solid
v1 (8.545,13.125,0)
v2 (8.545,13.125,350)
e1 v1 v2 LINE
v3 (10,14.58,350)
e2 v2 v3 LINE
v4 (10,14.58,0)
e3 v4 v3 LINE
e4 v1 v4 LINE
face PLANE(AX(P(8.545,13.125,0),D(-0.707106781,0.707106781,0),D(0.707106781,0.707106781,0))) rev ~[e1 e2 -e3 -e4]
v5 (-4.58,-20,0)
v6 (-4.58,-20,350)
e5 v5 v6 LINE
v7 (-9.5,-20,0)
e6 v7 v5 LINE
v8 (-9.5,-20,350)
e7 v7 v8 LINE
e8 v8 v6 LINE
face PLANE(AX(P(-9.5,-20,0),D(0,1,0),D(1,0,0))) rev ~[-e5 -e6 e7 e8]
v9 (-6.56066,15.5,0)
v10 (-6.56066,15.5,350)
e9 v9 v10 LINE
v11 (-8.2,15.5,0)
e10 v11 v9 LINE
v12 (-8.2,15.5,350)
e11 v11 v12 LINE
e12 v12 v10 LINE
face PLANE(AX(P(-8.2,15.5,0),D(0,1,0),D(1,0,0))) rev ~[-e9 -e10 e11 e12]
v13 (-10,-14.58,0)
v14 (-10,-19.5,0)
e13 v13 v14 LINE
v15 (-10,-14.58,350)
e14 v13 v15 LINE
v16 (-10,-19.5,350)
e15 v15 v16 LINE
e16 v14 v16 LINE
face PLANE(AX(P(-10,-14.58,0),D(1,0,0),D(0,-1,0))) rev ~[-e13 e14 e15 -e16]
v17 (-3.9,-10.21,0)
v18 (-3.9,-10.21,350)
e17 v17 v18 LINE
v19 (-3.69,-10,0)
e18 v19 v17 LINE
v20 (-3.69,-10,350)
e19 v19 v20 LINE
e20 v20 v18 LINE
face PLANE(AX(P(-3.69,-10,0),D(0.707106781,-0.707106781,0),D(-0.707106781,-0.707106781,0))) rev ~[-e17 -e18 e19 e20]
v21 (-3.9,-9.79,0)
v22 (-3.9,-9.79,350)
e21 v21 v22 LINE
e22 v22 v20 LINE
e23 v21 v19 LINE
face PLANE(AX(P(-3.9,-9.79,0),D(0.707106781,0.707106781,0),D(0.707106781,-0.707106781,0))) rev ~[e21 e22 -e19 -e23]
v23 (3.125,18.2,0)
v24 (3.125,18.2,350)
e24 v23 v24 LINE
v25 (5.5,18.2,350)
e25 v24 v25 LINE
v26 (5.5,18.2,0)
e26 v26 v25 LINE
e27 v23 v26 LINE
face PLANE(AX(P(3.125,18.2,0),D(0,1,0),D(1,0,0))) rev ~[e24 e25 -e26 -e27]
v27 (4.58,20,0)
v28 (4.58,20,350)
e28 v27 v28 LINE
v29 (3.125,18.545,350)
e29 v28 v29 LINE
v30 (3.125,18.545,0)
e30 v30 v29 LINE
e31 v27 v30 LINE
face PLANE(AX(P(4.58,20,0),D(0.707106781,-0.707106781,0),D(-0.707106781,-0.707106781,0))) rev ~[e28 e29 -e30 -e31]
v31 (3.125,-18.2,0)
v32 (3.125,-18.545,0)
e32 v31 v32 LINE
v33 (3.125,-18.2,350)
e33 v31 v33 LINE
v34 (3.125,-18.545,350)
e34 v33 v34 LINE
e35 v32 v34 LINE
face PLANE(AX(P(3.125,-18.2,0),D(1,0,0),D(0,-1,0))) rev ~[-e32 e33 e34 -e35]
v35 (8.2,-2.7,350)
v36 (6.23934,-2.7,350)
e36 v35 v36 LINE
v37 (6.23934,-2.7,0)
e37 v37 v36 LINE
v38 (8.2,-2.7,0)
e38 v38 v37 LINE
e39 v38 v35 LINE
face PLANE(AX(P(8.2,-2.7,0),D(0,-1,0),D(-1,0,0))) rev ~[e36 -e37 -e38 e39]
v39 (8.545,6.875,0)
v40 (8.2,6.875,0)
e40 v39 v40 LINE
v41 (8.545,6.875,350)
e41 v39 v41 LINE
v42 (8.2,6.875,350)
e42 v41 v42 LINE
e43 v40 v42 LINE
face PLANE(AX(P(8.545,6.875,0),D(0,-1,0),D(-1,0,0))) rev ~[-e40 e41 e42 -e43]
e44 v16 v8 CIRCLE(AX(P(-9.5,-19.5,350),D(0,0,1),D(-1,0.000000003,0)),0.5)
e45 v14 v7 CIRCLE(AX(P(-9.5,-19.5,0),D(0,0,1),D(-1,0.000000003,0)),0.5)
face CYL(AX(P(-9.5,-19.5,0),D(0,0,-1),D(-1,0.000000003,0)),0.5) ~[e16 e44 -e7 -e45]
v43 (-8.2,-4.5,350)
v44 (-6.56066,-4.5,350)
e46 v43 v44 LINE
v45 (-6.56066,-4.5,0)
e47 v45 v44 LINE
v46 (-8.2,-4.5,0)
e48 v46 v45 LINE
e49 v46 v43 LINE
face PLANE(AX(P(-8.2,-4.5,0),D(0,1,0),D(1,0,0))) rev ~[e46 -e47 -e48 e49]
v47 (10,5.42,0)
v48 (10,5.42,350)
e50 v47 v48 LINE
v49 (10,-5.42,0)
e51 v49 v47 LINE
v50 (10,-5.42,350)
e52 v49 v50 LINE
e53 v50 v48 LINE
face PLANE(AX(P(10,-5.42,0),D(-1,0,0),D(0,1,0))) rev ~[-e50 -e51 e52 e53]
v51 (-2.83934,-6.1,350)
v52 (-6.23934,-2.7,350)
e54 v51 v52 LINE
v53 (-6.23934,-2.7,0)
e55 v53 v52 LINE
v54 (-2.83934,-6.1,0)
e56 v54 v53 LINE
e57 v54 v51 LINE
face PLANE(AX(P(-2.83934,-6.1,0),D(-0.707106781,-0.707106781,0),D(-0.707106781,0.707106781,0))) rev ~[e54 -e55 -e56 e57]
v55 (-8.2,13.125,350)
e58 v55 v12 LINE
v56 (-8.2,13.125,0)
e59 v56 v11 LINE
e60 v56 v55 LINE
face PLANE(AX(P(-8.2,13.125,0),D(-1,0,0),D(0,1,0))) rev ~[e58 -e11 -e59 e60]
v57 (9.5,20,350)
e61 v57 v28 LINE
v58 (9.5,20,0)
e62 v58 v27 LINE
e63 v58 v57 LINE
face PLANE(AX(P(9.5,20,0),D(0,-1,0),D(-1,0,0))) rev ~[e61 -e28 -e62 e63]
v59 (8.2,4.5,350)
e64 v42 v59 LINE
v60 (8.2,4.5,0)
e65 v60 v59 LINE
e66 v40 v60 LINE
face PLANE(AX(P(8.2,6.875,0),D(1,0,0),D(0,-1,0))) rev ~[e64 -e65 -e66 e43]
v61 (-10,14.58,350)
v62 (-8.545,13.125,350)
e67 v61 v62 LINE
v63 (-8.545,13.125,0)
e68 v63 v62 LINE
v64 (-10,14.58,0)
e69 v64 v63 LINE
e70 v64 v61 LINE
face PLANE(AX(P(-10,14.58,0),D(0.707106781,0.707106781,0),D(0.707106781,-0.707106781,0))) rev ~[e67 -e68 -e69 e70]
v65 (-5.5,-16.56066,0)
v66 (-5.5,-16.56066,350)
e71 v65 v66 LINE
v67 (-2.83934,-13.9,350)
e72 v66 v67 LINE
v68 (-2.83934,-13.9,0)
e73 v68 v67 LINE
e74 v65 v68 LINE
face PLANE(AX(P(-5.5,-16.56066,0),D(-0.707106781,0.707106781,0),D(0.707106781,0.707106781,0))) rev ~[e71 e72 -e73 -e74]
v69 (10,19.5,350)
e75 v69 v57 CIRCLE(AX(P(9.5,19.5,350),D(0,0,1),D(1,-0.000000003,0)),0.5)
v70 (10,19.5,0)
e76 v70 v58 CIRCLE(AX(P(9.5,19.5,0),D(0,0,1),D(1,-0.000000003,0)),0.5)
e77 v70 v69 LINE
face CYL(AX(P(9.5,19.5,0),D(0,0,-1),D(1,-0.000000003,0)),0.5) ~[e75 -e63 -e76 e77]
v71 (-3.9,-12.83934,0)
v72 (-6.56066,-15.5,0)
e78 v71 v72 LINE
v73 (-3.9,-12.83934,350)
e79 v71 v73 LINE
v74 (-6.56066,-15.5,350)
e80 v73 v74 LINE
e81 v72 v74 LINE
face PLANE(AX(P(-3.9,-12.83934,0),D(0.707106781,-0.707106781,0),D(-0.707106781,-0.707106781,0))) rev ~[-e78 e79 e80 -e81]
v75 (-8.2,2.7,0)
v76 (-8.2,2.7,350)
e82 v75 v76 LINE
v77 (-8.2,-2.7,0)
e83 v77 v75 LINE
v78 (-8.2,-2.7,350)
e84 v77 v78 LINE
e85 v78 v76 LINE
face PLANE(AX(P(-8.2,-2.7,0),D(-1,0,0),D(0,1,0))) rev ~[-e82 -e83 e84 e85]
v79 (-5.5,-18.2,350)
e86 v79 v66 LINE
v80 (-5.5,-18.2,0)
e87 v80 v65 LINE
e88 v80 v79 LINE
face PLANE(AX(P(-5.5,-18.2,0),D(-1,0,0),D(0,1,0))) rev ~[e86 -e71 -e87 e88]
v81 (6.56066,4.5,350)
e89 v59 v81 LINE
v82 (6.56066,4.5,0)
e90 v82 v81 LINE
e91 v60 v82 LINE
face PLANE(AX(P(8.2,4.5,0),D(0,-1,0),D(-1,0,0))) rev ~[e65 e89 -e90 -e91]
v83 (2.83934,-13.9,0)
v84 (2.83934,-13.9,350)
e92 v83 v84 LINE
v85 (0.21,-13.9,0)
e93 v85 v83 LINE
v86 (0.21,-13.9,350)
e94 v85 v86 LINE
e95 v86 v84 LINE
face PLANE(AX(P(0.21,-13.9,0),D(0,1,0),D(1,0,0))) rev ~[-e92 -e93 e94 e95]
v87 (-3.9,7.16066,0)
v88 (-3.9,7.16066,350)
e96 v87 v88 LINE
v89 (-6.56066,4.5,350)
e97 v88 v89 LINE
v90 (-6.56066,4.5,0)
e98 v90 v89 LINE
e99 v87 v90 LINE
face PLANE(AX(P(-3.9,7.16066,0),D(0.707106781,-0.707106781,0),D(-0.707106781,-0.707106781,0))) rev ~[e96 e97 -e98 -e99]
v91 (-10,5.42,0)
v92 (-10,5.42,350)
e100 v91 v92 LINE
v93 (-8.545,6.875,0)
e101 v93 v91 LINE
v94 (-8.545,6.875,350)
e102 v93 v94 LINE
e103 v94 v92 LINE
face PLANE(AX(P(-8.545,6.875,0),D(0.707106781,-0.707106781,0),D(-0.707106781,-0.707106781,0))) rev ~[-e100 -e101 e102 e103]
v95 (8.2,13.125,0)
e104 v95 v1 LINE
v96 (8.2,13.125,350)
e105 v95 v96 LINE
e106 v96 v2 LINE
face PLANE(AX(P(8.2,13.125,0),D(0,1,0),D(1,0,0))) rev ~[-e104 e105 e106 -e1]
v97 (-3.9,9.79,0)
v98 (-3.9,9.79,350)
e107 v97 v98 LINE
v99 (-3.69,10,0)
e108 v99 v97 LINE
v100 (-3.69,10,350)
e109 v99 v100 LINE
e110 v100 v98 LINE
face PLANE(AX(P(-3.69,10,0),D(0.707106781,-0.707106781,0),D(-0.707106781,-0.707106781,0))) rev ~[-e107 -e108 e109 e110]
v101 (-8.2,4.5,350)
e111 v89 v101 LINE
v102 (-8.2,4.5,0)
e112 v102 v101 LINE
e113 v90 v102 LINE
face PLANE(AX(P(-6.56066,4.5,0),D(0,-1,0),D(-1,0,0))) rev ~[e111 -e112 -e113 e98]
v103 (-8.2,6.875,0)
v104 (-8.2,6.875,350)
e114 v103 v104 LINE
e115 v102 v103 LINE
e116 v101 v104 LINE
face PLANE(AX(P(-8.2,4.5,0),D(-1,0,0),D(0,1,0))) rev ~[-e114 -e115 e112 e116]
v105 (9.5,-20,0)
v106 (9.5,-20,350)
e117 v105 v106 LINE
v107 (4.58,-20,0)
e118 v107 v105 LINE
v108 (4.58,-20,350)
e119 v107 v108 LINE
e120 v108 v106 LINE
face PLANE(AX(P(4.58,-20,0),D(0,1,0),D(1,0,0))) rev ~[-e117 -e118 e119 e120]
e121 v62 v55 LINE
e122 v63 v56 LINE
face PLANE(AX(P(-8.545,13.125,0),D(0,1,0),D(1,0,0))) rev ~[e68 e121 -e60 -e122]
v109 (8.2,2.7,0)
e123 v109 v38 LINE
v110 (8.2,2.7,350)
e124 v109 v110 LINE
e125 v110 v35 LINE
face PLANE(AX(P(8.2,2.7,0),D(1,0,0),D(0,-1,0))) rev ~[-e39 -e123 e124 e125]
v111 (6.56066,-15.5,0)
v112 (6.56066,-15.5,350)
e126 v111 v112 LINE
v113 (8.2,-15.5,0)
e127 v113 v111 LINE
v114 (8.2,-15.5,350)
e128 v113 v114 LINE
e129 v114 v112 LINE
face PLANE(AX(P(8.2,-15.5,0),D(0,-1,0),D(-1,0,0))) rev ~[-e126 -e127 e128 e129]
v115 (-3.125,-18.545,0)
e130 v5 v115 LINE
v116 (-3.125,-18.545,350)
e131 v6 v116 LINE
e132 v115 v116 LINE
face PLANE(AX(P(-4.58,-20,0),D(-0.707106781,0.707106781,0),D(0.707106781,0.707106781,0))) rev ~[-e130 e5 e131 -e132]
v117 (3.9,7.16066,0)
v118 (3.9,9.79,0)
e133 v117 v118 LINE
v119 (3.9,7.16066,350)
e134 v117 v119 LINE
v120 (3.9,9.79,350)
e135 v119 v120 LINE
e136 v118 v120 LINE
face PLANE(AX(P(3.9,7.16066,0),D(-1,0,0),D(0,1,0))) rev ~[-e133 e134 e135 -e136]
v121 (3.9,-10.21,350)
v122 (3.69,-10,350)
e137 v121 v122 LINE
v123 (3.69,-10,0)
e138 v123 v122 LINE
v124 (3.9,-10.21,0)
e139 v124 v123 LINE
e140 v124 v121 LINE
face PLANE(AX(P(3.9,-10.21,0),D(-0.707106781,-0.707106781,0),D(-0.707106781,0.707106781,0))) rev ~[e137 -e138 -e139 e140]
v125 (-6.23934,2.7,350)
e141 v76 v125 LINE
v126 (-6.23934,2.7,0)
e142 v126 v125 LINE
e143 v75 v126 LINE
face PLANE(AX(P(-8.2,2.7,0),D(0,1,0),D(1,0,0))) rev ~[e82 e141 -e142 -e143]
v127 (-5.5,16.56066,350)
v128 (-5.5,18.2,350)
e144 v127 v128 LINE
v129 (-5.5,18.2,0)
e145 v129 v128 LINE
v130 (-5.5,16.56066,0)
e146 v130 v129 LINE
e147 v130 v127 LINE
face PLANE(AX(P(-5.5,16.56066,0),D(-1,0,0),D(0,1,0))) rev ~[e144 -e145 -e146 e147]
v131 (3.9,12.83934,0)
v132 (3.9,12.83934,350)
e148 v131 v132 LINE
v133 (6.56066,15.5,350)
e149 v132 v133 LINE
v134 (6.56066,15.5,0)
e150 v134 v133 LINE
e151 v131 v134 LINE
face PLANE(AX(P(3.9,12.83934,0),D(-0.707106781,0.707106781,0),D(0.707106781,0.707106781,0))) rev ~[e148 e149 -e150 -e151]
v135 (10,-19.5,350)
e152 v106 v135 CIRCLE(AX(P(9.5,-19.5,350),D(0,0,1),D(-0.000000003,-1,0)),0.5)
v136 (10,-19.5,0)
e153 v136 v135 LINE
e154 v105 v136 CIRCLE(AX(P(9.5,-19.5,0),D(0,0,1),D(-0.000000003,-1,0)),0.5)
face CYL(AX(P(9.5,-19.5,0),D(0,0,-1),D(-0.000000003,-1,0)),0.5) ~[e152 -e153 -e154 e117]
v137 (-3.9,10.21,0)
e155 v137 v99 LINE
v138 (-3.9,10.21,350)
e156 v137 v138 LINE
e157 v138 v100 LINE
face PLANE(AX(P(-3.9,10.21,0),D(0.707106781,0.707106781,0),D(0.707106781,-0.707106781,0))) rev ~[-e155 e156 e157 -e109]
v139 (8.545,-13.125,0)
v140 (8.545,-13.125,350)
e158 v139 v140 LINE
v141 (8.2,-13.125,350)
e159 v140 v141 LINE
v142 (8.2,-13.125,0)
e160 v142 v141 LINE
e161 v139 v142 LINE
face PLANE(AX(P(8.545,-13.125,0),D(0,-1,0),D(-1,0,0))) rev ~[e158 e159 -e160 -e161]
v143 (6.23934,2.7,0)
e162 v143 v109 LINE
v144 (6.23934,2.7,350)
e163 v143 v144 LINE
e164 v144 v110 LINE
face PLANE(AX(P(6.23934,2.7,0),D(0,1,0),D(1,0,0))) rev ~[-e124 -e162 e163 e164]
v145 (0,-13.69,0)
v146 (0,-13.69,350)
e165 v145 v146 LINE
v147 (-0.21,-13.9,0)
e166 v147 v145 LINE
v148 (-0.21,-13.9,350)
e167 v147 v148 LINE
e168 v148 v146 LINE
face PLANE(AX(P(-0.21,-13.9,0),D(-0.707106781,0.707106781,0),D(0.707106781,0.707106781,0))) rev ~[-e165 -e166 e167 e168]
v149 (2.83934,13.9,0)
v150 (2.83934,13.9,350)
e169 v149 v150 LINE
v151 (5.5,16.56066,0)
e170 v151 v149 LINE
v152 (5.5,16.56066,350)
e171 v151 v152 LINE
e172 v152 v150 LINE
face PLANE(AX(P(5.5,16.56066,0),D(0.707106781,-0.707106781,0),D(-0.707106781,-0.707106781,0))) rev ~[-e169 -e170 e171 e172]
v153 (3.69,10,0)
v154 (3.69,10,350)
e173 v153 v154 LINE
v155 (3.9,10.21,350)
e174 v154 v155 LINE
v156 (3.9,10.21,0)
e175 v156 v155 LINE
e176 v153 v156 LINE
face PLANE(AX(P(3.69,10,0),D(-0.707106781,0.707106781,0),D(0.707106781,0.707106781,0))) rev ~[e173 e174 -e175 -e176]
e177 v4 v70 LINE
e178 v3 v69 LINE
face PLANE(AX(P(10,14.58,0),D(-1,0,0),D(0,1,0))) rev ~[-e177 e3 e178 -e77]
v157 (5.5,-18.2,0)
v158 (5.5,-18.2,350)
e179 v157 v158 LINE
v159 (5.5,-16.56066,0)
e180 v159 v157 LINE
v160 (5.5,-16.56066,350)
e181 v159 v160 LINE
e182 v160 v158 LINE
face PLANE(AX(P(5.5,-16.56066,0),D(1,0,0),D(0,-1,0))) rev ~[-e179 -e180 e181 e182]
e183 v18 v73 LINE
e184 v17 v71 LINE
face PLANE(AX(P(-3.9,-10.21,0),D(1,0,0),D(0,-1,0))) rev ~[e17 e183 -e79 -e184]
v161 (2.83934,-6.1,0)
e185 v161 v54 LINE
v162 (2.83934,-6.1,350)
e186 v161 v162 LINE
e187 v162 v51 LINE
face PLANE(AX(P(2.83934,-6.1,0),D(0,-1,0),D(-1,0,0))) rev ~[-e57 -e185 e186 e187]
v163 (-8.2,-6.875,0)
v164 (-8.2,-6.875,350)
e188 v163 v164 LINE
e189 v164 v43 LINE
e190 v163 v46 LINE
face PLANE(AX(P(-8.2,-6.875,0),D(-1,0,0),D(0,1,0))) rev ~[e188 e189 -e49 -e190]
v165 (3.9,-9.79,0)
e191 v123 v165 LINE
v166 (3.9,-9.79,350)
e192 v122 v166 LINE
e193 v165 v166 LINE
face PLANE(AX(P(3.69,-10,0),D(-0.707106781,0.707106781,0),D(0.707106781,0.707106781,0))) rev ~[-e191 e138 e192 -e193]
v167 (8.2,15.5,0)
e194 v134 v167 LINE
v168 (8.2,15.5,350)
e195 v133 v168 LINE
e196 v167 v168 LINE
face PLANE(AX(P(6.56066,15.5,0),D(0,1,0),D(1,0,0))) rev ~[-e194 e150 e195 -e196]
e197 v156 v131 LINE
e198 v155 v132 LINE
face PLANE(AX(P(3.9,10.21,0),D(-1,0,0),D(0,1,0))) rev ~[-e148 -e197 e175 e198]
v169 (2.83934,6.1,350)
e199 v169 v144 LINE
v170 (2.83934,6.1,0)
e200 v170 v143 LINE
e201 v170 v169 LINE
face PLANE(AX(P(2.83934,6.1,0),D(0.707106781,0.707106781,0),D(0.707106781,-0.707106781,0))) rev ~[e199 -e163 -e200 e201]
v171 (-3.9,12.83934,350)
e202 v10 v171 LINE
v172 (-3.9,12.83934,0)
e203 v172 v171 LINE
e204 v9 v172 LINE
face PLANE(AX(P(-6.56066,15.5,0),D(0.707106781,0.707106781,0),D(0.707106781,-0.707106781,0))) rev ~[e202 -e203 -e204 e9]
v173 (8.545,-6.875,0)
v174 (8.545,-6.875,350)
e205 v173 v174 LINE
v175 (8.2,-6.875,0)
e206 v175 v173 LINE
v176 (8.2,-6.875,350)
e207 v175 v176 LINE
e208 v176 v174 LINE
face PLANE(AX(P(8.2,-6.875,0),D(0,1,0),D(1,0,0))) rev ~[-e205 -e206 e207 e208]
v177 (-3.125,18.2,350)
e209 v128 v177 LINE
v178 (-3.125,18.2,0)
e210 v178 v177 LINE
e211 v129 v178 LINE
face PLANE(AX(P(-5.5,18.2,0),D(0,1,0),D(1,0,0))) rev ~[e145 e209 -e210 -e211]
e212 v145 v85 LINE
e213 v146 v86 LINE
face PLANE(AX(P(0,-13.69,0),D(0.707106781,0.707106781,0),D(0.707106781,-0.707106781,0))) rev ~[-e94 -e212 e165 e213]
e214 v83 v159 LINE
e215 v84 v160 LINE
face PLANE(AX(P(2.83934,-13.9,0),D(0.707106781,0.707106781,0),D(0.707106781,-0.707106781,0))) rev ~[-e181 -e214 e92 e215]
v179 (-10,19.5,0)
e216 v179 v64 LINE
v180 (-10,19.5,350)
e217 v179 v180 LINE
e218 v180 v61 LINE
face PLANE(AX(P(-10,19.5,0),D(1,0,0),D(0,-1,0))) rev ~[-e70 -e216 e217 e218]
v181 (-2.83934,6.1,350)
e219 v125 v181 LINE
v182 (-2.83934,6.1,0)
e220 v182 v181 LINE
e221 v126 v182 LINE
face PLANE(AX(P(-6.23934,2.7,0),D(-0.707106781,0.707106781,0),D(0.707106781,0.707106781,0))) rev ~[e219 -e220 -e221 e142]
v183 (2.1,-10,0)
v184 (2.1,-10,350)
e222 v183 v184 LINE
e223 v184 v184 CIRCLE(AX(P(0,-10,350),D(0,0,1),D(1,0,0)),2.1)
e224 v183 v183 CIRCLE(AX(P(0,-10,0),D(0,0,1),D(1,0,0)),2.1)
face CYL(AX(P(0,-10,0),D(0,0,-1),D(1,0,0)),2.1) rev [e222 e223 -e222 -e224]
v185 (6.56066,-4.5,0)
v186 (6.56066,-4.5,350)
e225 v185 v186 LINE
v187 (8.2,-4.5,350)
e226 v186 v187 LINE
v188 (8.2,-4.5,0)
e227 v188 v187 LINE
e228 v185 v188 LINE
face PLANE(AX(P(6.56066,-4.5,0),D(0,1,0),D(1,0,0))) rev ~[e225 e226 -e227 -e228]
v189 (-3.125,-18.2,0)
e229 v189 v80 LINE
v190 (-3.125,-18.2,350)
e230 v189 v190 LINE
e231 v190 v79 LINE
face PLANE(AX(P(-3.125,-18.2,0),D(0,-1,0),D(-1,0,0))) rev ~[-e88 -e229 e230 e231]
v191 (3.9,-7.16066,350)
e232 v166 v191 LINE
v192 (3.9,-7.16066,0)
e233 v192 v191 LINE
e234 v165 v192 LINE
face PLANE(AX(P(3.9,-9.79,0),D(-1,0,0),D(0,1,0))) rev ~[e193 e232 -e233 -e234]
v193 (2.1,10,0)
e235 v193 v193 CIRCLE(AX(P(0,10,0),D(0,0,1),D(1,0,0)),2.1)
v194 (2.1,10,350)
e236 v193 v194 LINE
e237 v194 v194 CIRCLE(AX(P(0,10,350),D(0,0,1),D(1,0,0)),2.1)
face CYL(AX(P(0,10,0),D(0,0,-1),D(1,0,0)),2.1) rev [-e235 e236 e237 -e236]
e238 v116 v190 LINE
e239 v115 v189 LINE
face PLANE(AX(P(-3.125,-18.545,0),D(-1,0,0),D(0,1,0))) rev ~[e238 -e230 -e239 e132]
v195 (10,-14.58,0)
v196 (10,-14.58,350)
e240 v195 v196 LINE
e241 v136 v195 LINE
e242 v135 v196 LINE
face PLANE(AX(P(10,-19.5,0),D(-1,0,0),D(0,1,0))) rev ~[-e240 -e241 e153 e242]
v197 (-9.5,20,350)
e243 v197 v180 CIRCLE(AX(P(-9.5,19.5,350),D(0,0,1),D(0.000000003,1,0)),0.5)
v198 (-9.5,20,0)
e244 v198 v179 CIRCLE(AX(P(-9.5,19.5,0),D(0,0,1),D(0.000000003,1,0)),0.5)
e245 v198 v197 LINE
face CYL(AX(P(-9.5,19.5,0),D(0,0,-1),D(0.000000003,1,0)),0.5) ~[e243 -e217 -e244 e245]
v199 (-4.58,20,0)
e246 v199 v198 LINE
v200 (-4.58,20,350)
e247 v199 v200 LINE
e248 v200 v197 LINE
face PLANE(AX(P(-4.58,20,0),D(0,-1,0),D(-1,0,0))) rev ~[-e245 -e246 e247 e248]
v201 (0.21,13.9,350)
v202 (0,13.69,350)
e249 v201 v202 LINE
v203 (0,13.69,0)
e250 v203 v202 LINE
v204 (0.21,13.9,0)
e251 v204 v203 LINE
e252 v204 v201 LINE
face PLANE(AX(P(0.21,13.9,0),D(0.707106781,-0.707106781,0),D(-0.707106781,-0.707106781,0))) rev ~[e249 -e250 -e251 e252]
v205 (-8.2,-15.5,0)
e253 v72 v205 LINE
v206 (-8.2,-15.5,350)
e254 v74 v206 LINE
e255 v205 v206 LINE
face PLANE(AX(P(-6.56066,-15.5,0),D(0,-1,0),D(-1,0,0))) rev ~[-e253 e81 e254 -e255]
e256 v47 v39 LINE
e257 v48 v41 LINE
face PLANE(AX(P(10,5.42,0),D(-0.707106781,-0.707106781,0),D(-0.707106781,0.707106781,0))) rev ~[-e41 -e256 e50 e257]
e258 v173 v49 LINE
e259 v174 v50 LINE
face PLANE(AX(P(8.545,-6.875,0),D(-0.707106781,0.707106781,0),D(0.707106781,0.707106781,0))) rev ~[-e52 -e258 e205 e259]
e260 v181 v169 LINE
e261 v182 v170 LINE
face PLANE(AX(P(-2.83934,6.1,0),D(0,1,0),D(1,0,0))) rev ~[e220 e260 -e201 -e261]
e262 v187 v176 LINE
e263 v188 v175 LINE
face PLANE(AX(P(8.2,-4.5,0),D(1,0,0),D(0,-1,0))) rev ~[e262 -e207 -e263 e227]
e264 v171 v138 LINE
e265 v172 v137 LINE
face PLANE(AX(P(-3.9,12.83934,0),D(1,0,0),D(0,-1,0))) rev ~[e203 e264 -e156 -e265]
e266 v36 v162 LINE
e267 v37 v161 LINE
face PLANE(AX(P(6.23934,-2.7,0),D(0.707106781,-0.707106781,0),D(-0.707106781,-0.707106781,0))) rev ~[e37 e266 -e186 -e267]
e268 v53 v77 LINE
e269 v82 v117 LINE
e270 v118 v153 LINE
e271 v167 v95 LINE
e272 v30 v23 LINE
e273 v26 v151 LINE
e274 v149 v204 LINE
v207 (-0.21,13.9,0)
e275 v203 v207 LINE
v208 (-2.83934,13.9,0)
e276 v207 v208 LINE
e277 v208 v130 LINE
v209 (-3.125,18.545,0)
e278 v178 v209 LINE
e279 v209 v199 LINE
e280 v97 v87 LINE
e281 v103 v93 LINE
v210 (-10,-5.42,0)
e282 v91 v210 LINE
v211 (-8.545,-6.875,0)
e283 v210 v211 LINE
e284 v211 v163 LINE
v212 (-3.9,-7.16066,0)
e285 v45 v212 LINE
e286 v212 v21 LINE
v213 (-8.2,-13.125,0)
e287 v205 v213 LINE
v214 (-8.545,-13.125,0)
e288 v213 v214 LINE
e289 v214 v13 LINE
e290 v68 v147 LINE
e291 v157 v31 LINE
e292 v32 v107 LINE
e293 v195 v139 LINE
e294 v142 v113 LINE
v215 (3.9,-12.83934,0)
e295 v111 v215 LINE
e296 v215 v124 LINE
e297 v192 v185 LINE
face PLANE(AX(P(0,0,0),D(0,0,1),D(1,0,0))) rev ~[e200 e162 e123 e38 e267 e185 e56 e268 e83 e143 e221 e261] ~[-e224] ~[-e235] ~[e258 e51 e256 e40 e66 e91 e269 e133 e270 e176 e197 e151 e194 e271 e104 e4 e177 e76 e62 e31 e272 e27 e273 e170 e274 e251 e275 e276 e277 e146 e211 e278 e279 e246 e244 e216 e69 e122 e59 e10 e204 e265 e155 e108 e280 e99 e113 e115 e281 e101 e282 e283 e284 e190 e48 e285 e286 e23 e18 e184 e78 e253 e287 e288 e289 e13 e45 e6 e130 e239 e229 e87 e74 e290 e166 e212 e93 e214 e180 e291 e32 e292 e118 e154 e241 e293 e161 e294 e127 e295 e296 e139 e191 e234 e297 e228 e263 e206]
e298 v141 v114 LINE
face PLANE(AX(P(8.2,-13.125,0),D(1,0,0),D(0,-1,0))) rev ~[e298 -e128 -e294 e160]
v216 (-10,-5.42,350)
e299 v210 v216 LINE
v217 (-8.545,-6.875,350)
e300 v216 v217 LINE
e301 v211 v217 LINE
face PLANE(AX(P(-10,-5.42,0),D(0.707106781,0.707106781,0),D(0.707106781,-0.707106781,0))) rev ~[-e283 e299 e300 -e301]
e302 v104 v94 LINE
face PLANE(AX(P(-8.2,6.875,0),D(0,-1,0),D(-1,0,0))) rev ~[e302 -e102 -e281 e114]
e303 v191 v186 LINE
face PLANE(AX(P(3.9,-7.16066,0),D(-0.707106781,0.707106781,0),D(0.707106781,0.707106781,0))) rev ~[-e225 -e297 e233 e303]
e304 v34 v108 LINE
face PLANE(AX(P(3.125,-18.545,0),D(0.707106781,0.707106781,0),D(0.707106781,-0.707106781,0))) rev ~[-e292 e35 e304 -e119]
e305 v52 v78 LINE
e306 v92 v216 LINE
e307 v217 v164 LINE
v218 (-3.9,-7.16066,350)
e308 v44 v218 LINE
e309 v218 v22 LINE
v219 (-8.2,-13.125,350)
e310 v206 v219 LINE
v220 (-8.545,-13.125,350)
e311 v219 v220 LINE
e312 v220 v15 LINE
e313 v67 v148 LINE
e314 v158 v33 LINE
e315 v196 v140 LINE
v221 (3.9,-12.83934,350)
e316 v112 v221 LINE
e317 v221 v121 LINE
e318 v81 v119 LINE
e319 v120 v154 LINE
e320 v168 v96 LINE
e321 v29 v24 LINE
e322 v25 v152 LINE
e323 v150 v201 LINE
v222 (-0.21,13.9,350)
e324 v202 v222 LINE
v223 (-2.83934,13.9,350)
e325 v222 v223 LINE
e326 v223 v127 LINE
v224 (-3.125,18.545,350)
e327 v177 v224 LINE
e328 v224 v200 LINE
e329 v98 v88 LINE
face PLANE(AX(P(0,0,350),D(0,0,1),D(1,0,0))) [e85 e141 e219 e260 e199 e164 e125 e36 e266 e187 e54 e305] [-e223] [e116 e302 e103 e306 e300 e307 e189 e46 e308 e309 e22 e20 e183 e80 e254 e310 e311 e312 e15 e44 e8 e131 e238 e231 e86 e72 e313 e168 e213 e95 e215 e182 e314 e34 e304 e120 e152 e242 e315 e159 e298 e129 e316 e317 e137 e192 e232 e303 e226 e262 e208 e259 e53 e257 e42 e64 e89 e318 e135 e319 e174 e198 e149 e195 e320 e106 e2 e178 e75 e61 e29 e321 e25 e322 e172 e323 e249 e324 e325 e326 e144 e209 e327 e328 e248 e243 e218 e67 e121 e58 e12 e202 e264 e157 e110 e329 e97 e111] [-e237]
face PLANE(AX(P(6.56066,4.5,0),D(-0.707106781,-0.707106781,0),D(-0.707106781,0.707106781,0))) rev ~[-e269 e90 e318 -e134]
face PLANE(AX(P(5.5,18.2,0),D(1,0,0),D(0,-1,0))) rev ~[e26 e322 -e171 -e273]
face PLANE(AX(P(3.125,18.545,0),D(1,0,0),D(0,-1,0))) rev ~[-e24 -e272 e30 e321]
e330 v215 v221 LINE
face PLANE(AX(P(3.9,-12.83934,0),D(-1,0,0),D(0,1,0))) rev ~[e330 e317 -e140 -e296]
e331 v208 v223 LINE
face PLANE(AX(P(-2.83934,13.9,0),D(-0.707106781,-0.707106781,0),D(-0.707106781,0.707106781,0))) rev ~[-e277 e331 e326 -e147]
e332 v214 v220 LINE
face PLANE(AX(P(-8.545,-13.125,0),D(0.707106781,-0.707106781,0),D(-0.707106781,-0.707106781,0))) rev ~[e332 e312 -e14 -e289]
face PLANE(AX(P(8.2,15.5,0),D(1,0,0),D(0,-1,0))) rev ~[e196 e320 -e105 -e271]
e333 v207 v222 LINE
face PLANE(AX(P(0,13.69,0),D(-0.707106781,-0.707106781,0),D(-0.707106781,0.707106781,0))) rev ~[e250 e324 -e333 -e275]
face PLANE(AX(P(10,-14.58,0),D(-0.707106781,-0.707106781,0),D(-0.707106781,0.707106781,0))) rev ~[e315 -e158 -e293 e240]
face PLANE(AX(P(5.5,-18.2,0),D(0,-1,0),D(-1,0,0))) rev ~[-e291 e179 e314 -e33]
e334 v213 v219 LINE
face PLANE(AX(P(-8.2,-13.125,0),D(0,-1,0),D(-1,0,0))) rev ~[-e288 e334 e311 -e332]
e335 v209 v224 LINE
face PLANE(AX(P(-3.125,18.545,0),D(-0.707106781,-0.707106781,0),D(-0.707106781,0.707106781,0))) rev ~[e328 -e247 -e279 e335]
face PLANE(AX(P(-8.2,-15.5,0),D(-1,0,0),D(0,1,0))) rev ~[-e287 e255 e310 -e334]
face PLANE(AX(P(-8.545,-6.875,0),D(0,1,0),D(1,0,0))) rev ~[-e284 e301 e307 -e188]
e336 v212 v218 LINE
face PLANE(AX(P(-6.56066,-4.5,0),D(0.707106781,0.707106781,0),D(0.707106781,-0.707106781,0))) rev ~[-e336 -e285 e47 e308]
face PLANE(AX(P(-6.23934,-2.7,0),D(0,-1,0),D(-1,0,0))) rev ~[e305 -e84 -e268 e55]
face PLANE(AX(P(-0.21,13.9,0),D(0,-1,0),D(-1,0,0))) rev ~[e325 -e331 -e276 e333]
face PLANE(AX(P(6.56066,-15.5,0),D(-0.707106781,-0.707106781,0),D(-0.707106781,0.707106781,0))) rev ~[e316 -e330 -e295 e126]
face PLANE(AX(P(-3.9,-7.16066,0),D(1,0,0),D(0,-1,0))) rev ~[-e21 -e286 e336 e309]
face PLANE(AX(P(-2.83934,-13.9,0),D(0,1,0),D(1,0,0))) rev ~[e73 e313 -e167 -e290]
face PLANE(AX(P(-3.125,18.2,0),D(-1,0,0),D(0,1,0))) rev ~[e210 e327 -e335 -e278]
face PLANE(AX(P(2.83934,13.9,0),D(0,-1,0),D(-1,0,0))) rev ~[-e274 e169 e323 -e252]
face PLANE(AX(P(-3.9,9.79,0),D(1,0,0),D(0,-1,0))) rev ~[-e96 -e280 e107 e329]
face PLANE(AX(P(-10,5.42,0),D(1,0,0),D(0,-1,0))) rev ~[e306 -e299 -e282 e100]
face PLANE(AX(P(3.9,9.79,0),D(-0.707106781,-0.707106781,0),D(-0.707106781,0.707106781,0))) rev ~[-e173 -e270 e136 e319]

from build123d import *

# Parameters (mm, degrees)
SKETCH1_R           = 2.1
BOSS_EXTRUDE1_DEPTH = 350


with BuildPart() as part:
    # Sketch1 → Boss-Extrude1 (new body)
    with BuildSketch(Plane.XY):
        with BuildLine():
            Line((4.58, -20), (9.5, -20))
            ThreePointArc((9.5, -20), (9.853553391, -19.853553391), (10, -19.5))
            Line((10, -19.5), (10, -14.58))
            Line((10, -14.58), (8.545, -13.125))
            Line((8.545, -13.125), (8.2, -13.125))
            Line((8.2, -13.125), (8.2, -15.5))
            Line((8.2, -15.5), (6.560660172, -15.5))
            Line((6.560660172, -15.5), (3.9, -12.839339828))
            Line((3.9, -12.839339828), (3.9, -10.21))
            Line((3.9, -10.21), (3.69, -10))
            Line((3.69, -10), (3.9, -9.79))
            Line((3.9, -9.79), (3.9, -7.160660172))
            Line((3.9, -7.160660172), (6.560660172, -4.5))
            Line((6.560660172, -4.5), (8.2, -4.5))
            Line((8.2, -4.5), (8.2, -6.875))
            Line((8.2, -6.875), (8.545, -6.875))
            Line((8.545, -6.875), (10, -5.42))
            Line((10, -5.42), (10, 5.42))
            Line((10, 5.42), (8.545, 6.875))
            Line((8.545, 6.875), (8.2, 6.875))
            Line((8.2, 6.875), (8.2, 4.5))
            Line((8.2, 4.5), (6.560660172, 4.5))
            Line((6.560660172, 4.5), (3.9, 7.160660172))
            Line((3.9, 7.160660172), (3.9, 9.79))
            Line((3.9, 9.79), (3.69, 10))
            Line((3.69, 10), (3.9, 10.21))
            Line((3.9, 10.21), (3.9, 12.839339828))
            Line((3.9, 12.839339828), (6.560660172, 15.5))
            Line((6.560660172, 15.5), (8.2, 15.5))
            Line((8.2, 15.5), (8.2, 13.125))
            Line((8.2, 13.125), (8.545, 13.125))
            Line((8.545, 13.125), (10, 14.58))
            Line((10, 14.58), (10, 19.5))
            ThreePointArc((10, 19.5), (9.853553391, 19.853553391), (9.5, 20))
            Line((9.5, 20), (4.58, 20))
            Line((4.58, 20), (3.125, 18.545))
            Line((3.125, 18.545), (3.125, 18.2))
            Line((3.125, 18.2), (5.5, 18.2))
            Line((5.5, 18.2), (5.5, 16.560660172))
            Line((5.5, 16.560660172), (2.839339828, 13.9))
            Line((2.839339828, 13.9), (0.21, 13.9))
            Line((0.21, 13.9), (0, 13.69))
            Line((0, 13.69), (-0.21, 13.9))
            Line((-0.21, 13.9), (-2.839339828, 13.9))
            Line((-2.839339828, 13.9), (-5.5, 16.560660172))
            Line((-5.5, 16.560660172), (-5.5, 18.2))
            Line((-5.5, 18.2), (-3.125, 18.2))
            Line((-3.125, 18.2), (-3.125, 18.545))
            Line((-3.125, 18.545), (-4.58, 20))
            Line((-4.58, 20), (-9.5, 20))
            ThreePointArc((-9.5, 20), (-9.853553391, 19.853553391), (-10, 19.5))
            Line((-10, 19.5), (-10, 14.58))
            Line((-10, 14.58), (-8.545, 13.125))
            Line((-8.545, 13.125), (-8.2, 13.125))
            Line((-8.2, 13.125), (-8.2, 15.5))
            Line((-8.2, 15.5), (-6.560660172, 15.5))
            Line((-6.560660172, 15.5), (-3.9, 12.839339828))
            Line((-3.9, 12.839339828), (-3.9, 10.21))
            Line((-3.9, 10.21), (-3.69, 10))
            Line((-3.69, 10), (-3.9, 9.79))
            Line((-3.9, 9.79), (-3.9, 7.160660172))
            Line((-3.9, 7.160660172), (-6.560660172, 4.5))
            Line((-6.560660172, 4.5), (-8.2, 4.5))
            Line((-8.2, 4.5), (-8.2, 6.875))
            Line((-8.2, 6.875), (-8.545, 6.875))
            Line((-8.545, 6.875), (-10, 5.42))
            Line((-10, 5.42), (-10, -5.42))
            Line((-10, -5.42), (-8.545, -6.875))
            Line((-8.545, -6.875), (-8.2, -6.875))
            Line((-8.2, -6.875), (-8.2, -4.5))
            Line((-8.2, -4.5), (-6.560660172, -4.5))
            Line((-6.560660172, -4.5), (-3.9, -7.160660172))
            Line((-3.9, -7.160660172), (-3.9, -9.79))
            Line((-3.9, -9.79), (-3.69, -10))
            Line((-3.69, -10), (-3.9, -10.21))
            Line((-3.9, -10.21), (-3.9, -12.839339828))
            Line((-3.9, -12.839339828), (-6.560660172, -15.5))
            Line((-6.560660172, -15.5), (-8.2, -15.5))
            Line((-8.2, -15.5), (-8.2, -13.125))
            Line((-8.2, -13.125), (-8.545, -13.125))
            Line((-8.545, -13.125), (-10, -14.58))
            Line((-10, -14.58), (-10, -19.5))
            ThreePointArc((-10, -19.5), (-9.853553391, -19.853553391), (-9.5, -20))
            Line((-9.5, -20), (-4.58, -20))
            Line((-4.58, -20), (-3.125, -18.545))
            Line((-3.125, -18.545), (-3.125, -18.2))
            Line((-3.125, -18.2), (-5.5, -18.2))
            Line((-5.5, -18.2), (-5.5, -16.560660172))
            Line((-5.5, -16.560660172), (-2.839339828, -13.9))
            Line((-2.839339828, -13.9), (-0.21, -13.9))
            Line((-0.21, -13.9), (0, -13.69))
            Line((0, -13.69), (0.21, -13.9))
            Line((0.21, -13.9), (2.839339828, -13.9))
            Line((2.839339828, -13.9), (5.5, -16.560660172))
            Line((5.5, -16.560660172), (5.5, -18.2))
            Line((5.5, -18.2), (3.125, -18.2))
            Line((3.125, -18.2), (3.125, -18.545))
            Line((3.125, -18.545), (4.58, -20))
        make_face()
        with Locations((0, -10)):
            Circle(SKETCH1_R, mode=Mode.SUBTRACT)
        Polygon((-6.239339828, -2.7), (-8.2, -2.7), (-8.2, 2.7), (-6.239339828, 2.7), (-2.839339828, 6.1), (2.839339828, 6.1), (6.239339828, 2.7), (8.2, 2.7), (8.2, -2.7), (6.239339828, -2.7), (2.839339828, -6.1), (-2.839339828, -6.1), align=None, mode=Mode.SUBTRACT)
        with Locations((0, 10)):
            Circle(SKETCH1_R, mode=Mode.SUBTRACT)
    extrude(amount=BOSS_EXTRUDE1_DEPTH)


solid = part.part
